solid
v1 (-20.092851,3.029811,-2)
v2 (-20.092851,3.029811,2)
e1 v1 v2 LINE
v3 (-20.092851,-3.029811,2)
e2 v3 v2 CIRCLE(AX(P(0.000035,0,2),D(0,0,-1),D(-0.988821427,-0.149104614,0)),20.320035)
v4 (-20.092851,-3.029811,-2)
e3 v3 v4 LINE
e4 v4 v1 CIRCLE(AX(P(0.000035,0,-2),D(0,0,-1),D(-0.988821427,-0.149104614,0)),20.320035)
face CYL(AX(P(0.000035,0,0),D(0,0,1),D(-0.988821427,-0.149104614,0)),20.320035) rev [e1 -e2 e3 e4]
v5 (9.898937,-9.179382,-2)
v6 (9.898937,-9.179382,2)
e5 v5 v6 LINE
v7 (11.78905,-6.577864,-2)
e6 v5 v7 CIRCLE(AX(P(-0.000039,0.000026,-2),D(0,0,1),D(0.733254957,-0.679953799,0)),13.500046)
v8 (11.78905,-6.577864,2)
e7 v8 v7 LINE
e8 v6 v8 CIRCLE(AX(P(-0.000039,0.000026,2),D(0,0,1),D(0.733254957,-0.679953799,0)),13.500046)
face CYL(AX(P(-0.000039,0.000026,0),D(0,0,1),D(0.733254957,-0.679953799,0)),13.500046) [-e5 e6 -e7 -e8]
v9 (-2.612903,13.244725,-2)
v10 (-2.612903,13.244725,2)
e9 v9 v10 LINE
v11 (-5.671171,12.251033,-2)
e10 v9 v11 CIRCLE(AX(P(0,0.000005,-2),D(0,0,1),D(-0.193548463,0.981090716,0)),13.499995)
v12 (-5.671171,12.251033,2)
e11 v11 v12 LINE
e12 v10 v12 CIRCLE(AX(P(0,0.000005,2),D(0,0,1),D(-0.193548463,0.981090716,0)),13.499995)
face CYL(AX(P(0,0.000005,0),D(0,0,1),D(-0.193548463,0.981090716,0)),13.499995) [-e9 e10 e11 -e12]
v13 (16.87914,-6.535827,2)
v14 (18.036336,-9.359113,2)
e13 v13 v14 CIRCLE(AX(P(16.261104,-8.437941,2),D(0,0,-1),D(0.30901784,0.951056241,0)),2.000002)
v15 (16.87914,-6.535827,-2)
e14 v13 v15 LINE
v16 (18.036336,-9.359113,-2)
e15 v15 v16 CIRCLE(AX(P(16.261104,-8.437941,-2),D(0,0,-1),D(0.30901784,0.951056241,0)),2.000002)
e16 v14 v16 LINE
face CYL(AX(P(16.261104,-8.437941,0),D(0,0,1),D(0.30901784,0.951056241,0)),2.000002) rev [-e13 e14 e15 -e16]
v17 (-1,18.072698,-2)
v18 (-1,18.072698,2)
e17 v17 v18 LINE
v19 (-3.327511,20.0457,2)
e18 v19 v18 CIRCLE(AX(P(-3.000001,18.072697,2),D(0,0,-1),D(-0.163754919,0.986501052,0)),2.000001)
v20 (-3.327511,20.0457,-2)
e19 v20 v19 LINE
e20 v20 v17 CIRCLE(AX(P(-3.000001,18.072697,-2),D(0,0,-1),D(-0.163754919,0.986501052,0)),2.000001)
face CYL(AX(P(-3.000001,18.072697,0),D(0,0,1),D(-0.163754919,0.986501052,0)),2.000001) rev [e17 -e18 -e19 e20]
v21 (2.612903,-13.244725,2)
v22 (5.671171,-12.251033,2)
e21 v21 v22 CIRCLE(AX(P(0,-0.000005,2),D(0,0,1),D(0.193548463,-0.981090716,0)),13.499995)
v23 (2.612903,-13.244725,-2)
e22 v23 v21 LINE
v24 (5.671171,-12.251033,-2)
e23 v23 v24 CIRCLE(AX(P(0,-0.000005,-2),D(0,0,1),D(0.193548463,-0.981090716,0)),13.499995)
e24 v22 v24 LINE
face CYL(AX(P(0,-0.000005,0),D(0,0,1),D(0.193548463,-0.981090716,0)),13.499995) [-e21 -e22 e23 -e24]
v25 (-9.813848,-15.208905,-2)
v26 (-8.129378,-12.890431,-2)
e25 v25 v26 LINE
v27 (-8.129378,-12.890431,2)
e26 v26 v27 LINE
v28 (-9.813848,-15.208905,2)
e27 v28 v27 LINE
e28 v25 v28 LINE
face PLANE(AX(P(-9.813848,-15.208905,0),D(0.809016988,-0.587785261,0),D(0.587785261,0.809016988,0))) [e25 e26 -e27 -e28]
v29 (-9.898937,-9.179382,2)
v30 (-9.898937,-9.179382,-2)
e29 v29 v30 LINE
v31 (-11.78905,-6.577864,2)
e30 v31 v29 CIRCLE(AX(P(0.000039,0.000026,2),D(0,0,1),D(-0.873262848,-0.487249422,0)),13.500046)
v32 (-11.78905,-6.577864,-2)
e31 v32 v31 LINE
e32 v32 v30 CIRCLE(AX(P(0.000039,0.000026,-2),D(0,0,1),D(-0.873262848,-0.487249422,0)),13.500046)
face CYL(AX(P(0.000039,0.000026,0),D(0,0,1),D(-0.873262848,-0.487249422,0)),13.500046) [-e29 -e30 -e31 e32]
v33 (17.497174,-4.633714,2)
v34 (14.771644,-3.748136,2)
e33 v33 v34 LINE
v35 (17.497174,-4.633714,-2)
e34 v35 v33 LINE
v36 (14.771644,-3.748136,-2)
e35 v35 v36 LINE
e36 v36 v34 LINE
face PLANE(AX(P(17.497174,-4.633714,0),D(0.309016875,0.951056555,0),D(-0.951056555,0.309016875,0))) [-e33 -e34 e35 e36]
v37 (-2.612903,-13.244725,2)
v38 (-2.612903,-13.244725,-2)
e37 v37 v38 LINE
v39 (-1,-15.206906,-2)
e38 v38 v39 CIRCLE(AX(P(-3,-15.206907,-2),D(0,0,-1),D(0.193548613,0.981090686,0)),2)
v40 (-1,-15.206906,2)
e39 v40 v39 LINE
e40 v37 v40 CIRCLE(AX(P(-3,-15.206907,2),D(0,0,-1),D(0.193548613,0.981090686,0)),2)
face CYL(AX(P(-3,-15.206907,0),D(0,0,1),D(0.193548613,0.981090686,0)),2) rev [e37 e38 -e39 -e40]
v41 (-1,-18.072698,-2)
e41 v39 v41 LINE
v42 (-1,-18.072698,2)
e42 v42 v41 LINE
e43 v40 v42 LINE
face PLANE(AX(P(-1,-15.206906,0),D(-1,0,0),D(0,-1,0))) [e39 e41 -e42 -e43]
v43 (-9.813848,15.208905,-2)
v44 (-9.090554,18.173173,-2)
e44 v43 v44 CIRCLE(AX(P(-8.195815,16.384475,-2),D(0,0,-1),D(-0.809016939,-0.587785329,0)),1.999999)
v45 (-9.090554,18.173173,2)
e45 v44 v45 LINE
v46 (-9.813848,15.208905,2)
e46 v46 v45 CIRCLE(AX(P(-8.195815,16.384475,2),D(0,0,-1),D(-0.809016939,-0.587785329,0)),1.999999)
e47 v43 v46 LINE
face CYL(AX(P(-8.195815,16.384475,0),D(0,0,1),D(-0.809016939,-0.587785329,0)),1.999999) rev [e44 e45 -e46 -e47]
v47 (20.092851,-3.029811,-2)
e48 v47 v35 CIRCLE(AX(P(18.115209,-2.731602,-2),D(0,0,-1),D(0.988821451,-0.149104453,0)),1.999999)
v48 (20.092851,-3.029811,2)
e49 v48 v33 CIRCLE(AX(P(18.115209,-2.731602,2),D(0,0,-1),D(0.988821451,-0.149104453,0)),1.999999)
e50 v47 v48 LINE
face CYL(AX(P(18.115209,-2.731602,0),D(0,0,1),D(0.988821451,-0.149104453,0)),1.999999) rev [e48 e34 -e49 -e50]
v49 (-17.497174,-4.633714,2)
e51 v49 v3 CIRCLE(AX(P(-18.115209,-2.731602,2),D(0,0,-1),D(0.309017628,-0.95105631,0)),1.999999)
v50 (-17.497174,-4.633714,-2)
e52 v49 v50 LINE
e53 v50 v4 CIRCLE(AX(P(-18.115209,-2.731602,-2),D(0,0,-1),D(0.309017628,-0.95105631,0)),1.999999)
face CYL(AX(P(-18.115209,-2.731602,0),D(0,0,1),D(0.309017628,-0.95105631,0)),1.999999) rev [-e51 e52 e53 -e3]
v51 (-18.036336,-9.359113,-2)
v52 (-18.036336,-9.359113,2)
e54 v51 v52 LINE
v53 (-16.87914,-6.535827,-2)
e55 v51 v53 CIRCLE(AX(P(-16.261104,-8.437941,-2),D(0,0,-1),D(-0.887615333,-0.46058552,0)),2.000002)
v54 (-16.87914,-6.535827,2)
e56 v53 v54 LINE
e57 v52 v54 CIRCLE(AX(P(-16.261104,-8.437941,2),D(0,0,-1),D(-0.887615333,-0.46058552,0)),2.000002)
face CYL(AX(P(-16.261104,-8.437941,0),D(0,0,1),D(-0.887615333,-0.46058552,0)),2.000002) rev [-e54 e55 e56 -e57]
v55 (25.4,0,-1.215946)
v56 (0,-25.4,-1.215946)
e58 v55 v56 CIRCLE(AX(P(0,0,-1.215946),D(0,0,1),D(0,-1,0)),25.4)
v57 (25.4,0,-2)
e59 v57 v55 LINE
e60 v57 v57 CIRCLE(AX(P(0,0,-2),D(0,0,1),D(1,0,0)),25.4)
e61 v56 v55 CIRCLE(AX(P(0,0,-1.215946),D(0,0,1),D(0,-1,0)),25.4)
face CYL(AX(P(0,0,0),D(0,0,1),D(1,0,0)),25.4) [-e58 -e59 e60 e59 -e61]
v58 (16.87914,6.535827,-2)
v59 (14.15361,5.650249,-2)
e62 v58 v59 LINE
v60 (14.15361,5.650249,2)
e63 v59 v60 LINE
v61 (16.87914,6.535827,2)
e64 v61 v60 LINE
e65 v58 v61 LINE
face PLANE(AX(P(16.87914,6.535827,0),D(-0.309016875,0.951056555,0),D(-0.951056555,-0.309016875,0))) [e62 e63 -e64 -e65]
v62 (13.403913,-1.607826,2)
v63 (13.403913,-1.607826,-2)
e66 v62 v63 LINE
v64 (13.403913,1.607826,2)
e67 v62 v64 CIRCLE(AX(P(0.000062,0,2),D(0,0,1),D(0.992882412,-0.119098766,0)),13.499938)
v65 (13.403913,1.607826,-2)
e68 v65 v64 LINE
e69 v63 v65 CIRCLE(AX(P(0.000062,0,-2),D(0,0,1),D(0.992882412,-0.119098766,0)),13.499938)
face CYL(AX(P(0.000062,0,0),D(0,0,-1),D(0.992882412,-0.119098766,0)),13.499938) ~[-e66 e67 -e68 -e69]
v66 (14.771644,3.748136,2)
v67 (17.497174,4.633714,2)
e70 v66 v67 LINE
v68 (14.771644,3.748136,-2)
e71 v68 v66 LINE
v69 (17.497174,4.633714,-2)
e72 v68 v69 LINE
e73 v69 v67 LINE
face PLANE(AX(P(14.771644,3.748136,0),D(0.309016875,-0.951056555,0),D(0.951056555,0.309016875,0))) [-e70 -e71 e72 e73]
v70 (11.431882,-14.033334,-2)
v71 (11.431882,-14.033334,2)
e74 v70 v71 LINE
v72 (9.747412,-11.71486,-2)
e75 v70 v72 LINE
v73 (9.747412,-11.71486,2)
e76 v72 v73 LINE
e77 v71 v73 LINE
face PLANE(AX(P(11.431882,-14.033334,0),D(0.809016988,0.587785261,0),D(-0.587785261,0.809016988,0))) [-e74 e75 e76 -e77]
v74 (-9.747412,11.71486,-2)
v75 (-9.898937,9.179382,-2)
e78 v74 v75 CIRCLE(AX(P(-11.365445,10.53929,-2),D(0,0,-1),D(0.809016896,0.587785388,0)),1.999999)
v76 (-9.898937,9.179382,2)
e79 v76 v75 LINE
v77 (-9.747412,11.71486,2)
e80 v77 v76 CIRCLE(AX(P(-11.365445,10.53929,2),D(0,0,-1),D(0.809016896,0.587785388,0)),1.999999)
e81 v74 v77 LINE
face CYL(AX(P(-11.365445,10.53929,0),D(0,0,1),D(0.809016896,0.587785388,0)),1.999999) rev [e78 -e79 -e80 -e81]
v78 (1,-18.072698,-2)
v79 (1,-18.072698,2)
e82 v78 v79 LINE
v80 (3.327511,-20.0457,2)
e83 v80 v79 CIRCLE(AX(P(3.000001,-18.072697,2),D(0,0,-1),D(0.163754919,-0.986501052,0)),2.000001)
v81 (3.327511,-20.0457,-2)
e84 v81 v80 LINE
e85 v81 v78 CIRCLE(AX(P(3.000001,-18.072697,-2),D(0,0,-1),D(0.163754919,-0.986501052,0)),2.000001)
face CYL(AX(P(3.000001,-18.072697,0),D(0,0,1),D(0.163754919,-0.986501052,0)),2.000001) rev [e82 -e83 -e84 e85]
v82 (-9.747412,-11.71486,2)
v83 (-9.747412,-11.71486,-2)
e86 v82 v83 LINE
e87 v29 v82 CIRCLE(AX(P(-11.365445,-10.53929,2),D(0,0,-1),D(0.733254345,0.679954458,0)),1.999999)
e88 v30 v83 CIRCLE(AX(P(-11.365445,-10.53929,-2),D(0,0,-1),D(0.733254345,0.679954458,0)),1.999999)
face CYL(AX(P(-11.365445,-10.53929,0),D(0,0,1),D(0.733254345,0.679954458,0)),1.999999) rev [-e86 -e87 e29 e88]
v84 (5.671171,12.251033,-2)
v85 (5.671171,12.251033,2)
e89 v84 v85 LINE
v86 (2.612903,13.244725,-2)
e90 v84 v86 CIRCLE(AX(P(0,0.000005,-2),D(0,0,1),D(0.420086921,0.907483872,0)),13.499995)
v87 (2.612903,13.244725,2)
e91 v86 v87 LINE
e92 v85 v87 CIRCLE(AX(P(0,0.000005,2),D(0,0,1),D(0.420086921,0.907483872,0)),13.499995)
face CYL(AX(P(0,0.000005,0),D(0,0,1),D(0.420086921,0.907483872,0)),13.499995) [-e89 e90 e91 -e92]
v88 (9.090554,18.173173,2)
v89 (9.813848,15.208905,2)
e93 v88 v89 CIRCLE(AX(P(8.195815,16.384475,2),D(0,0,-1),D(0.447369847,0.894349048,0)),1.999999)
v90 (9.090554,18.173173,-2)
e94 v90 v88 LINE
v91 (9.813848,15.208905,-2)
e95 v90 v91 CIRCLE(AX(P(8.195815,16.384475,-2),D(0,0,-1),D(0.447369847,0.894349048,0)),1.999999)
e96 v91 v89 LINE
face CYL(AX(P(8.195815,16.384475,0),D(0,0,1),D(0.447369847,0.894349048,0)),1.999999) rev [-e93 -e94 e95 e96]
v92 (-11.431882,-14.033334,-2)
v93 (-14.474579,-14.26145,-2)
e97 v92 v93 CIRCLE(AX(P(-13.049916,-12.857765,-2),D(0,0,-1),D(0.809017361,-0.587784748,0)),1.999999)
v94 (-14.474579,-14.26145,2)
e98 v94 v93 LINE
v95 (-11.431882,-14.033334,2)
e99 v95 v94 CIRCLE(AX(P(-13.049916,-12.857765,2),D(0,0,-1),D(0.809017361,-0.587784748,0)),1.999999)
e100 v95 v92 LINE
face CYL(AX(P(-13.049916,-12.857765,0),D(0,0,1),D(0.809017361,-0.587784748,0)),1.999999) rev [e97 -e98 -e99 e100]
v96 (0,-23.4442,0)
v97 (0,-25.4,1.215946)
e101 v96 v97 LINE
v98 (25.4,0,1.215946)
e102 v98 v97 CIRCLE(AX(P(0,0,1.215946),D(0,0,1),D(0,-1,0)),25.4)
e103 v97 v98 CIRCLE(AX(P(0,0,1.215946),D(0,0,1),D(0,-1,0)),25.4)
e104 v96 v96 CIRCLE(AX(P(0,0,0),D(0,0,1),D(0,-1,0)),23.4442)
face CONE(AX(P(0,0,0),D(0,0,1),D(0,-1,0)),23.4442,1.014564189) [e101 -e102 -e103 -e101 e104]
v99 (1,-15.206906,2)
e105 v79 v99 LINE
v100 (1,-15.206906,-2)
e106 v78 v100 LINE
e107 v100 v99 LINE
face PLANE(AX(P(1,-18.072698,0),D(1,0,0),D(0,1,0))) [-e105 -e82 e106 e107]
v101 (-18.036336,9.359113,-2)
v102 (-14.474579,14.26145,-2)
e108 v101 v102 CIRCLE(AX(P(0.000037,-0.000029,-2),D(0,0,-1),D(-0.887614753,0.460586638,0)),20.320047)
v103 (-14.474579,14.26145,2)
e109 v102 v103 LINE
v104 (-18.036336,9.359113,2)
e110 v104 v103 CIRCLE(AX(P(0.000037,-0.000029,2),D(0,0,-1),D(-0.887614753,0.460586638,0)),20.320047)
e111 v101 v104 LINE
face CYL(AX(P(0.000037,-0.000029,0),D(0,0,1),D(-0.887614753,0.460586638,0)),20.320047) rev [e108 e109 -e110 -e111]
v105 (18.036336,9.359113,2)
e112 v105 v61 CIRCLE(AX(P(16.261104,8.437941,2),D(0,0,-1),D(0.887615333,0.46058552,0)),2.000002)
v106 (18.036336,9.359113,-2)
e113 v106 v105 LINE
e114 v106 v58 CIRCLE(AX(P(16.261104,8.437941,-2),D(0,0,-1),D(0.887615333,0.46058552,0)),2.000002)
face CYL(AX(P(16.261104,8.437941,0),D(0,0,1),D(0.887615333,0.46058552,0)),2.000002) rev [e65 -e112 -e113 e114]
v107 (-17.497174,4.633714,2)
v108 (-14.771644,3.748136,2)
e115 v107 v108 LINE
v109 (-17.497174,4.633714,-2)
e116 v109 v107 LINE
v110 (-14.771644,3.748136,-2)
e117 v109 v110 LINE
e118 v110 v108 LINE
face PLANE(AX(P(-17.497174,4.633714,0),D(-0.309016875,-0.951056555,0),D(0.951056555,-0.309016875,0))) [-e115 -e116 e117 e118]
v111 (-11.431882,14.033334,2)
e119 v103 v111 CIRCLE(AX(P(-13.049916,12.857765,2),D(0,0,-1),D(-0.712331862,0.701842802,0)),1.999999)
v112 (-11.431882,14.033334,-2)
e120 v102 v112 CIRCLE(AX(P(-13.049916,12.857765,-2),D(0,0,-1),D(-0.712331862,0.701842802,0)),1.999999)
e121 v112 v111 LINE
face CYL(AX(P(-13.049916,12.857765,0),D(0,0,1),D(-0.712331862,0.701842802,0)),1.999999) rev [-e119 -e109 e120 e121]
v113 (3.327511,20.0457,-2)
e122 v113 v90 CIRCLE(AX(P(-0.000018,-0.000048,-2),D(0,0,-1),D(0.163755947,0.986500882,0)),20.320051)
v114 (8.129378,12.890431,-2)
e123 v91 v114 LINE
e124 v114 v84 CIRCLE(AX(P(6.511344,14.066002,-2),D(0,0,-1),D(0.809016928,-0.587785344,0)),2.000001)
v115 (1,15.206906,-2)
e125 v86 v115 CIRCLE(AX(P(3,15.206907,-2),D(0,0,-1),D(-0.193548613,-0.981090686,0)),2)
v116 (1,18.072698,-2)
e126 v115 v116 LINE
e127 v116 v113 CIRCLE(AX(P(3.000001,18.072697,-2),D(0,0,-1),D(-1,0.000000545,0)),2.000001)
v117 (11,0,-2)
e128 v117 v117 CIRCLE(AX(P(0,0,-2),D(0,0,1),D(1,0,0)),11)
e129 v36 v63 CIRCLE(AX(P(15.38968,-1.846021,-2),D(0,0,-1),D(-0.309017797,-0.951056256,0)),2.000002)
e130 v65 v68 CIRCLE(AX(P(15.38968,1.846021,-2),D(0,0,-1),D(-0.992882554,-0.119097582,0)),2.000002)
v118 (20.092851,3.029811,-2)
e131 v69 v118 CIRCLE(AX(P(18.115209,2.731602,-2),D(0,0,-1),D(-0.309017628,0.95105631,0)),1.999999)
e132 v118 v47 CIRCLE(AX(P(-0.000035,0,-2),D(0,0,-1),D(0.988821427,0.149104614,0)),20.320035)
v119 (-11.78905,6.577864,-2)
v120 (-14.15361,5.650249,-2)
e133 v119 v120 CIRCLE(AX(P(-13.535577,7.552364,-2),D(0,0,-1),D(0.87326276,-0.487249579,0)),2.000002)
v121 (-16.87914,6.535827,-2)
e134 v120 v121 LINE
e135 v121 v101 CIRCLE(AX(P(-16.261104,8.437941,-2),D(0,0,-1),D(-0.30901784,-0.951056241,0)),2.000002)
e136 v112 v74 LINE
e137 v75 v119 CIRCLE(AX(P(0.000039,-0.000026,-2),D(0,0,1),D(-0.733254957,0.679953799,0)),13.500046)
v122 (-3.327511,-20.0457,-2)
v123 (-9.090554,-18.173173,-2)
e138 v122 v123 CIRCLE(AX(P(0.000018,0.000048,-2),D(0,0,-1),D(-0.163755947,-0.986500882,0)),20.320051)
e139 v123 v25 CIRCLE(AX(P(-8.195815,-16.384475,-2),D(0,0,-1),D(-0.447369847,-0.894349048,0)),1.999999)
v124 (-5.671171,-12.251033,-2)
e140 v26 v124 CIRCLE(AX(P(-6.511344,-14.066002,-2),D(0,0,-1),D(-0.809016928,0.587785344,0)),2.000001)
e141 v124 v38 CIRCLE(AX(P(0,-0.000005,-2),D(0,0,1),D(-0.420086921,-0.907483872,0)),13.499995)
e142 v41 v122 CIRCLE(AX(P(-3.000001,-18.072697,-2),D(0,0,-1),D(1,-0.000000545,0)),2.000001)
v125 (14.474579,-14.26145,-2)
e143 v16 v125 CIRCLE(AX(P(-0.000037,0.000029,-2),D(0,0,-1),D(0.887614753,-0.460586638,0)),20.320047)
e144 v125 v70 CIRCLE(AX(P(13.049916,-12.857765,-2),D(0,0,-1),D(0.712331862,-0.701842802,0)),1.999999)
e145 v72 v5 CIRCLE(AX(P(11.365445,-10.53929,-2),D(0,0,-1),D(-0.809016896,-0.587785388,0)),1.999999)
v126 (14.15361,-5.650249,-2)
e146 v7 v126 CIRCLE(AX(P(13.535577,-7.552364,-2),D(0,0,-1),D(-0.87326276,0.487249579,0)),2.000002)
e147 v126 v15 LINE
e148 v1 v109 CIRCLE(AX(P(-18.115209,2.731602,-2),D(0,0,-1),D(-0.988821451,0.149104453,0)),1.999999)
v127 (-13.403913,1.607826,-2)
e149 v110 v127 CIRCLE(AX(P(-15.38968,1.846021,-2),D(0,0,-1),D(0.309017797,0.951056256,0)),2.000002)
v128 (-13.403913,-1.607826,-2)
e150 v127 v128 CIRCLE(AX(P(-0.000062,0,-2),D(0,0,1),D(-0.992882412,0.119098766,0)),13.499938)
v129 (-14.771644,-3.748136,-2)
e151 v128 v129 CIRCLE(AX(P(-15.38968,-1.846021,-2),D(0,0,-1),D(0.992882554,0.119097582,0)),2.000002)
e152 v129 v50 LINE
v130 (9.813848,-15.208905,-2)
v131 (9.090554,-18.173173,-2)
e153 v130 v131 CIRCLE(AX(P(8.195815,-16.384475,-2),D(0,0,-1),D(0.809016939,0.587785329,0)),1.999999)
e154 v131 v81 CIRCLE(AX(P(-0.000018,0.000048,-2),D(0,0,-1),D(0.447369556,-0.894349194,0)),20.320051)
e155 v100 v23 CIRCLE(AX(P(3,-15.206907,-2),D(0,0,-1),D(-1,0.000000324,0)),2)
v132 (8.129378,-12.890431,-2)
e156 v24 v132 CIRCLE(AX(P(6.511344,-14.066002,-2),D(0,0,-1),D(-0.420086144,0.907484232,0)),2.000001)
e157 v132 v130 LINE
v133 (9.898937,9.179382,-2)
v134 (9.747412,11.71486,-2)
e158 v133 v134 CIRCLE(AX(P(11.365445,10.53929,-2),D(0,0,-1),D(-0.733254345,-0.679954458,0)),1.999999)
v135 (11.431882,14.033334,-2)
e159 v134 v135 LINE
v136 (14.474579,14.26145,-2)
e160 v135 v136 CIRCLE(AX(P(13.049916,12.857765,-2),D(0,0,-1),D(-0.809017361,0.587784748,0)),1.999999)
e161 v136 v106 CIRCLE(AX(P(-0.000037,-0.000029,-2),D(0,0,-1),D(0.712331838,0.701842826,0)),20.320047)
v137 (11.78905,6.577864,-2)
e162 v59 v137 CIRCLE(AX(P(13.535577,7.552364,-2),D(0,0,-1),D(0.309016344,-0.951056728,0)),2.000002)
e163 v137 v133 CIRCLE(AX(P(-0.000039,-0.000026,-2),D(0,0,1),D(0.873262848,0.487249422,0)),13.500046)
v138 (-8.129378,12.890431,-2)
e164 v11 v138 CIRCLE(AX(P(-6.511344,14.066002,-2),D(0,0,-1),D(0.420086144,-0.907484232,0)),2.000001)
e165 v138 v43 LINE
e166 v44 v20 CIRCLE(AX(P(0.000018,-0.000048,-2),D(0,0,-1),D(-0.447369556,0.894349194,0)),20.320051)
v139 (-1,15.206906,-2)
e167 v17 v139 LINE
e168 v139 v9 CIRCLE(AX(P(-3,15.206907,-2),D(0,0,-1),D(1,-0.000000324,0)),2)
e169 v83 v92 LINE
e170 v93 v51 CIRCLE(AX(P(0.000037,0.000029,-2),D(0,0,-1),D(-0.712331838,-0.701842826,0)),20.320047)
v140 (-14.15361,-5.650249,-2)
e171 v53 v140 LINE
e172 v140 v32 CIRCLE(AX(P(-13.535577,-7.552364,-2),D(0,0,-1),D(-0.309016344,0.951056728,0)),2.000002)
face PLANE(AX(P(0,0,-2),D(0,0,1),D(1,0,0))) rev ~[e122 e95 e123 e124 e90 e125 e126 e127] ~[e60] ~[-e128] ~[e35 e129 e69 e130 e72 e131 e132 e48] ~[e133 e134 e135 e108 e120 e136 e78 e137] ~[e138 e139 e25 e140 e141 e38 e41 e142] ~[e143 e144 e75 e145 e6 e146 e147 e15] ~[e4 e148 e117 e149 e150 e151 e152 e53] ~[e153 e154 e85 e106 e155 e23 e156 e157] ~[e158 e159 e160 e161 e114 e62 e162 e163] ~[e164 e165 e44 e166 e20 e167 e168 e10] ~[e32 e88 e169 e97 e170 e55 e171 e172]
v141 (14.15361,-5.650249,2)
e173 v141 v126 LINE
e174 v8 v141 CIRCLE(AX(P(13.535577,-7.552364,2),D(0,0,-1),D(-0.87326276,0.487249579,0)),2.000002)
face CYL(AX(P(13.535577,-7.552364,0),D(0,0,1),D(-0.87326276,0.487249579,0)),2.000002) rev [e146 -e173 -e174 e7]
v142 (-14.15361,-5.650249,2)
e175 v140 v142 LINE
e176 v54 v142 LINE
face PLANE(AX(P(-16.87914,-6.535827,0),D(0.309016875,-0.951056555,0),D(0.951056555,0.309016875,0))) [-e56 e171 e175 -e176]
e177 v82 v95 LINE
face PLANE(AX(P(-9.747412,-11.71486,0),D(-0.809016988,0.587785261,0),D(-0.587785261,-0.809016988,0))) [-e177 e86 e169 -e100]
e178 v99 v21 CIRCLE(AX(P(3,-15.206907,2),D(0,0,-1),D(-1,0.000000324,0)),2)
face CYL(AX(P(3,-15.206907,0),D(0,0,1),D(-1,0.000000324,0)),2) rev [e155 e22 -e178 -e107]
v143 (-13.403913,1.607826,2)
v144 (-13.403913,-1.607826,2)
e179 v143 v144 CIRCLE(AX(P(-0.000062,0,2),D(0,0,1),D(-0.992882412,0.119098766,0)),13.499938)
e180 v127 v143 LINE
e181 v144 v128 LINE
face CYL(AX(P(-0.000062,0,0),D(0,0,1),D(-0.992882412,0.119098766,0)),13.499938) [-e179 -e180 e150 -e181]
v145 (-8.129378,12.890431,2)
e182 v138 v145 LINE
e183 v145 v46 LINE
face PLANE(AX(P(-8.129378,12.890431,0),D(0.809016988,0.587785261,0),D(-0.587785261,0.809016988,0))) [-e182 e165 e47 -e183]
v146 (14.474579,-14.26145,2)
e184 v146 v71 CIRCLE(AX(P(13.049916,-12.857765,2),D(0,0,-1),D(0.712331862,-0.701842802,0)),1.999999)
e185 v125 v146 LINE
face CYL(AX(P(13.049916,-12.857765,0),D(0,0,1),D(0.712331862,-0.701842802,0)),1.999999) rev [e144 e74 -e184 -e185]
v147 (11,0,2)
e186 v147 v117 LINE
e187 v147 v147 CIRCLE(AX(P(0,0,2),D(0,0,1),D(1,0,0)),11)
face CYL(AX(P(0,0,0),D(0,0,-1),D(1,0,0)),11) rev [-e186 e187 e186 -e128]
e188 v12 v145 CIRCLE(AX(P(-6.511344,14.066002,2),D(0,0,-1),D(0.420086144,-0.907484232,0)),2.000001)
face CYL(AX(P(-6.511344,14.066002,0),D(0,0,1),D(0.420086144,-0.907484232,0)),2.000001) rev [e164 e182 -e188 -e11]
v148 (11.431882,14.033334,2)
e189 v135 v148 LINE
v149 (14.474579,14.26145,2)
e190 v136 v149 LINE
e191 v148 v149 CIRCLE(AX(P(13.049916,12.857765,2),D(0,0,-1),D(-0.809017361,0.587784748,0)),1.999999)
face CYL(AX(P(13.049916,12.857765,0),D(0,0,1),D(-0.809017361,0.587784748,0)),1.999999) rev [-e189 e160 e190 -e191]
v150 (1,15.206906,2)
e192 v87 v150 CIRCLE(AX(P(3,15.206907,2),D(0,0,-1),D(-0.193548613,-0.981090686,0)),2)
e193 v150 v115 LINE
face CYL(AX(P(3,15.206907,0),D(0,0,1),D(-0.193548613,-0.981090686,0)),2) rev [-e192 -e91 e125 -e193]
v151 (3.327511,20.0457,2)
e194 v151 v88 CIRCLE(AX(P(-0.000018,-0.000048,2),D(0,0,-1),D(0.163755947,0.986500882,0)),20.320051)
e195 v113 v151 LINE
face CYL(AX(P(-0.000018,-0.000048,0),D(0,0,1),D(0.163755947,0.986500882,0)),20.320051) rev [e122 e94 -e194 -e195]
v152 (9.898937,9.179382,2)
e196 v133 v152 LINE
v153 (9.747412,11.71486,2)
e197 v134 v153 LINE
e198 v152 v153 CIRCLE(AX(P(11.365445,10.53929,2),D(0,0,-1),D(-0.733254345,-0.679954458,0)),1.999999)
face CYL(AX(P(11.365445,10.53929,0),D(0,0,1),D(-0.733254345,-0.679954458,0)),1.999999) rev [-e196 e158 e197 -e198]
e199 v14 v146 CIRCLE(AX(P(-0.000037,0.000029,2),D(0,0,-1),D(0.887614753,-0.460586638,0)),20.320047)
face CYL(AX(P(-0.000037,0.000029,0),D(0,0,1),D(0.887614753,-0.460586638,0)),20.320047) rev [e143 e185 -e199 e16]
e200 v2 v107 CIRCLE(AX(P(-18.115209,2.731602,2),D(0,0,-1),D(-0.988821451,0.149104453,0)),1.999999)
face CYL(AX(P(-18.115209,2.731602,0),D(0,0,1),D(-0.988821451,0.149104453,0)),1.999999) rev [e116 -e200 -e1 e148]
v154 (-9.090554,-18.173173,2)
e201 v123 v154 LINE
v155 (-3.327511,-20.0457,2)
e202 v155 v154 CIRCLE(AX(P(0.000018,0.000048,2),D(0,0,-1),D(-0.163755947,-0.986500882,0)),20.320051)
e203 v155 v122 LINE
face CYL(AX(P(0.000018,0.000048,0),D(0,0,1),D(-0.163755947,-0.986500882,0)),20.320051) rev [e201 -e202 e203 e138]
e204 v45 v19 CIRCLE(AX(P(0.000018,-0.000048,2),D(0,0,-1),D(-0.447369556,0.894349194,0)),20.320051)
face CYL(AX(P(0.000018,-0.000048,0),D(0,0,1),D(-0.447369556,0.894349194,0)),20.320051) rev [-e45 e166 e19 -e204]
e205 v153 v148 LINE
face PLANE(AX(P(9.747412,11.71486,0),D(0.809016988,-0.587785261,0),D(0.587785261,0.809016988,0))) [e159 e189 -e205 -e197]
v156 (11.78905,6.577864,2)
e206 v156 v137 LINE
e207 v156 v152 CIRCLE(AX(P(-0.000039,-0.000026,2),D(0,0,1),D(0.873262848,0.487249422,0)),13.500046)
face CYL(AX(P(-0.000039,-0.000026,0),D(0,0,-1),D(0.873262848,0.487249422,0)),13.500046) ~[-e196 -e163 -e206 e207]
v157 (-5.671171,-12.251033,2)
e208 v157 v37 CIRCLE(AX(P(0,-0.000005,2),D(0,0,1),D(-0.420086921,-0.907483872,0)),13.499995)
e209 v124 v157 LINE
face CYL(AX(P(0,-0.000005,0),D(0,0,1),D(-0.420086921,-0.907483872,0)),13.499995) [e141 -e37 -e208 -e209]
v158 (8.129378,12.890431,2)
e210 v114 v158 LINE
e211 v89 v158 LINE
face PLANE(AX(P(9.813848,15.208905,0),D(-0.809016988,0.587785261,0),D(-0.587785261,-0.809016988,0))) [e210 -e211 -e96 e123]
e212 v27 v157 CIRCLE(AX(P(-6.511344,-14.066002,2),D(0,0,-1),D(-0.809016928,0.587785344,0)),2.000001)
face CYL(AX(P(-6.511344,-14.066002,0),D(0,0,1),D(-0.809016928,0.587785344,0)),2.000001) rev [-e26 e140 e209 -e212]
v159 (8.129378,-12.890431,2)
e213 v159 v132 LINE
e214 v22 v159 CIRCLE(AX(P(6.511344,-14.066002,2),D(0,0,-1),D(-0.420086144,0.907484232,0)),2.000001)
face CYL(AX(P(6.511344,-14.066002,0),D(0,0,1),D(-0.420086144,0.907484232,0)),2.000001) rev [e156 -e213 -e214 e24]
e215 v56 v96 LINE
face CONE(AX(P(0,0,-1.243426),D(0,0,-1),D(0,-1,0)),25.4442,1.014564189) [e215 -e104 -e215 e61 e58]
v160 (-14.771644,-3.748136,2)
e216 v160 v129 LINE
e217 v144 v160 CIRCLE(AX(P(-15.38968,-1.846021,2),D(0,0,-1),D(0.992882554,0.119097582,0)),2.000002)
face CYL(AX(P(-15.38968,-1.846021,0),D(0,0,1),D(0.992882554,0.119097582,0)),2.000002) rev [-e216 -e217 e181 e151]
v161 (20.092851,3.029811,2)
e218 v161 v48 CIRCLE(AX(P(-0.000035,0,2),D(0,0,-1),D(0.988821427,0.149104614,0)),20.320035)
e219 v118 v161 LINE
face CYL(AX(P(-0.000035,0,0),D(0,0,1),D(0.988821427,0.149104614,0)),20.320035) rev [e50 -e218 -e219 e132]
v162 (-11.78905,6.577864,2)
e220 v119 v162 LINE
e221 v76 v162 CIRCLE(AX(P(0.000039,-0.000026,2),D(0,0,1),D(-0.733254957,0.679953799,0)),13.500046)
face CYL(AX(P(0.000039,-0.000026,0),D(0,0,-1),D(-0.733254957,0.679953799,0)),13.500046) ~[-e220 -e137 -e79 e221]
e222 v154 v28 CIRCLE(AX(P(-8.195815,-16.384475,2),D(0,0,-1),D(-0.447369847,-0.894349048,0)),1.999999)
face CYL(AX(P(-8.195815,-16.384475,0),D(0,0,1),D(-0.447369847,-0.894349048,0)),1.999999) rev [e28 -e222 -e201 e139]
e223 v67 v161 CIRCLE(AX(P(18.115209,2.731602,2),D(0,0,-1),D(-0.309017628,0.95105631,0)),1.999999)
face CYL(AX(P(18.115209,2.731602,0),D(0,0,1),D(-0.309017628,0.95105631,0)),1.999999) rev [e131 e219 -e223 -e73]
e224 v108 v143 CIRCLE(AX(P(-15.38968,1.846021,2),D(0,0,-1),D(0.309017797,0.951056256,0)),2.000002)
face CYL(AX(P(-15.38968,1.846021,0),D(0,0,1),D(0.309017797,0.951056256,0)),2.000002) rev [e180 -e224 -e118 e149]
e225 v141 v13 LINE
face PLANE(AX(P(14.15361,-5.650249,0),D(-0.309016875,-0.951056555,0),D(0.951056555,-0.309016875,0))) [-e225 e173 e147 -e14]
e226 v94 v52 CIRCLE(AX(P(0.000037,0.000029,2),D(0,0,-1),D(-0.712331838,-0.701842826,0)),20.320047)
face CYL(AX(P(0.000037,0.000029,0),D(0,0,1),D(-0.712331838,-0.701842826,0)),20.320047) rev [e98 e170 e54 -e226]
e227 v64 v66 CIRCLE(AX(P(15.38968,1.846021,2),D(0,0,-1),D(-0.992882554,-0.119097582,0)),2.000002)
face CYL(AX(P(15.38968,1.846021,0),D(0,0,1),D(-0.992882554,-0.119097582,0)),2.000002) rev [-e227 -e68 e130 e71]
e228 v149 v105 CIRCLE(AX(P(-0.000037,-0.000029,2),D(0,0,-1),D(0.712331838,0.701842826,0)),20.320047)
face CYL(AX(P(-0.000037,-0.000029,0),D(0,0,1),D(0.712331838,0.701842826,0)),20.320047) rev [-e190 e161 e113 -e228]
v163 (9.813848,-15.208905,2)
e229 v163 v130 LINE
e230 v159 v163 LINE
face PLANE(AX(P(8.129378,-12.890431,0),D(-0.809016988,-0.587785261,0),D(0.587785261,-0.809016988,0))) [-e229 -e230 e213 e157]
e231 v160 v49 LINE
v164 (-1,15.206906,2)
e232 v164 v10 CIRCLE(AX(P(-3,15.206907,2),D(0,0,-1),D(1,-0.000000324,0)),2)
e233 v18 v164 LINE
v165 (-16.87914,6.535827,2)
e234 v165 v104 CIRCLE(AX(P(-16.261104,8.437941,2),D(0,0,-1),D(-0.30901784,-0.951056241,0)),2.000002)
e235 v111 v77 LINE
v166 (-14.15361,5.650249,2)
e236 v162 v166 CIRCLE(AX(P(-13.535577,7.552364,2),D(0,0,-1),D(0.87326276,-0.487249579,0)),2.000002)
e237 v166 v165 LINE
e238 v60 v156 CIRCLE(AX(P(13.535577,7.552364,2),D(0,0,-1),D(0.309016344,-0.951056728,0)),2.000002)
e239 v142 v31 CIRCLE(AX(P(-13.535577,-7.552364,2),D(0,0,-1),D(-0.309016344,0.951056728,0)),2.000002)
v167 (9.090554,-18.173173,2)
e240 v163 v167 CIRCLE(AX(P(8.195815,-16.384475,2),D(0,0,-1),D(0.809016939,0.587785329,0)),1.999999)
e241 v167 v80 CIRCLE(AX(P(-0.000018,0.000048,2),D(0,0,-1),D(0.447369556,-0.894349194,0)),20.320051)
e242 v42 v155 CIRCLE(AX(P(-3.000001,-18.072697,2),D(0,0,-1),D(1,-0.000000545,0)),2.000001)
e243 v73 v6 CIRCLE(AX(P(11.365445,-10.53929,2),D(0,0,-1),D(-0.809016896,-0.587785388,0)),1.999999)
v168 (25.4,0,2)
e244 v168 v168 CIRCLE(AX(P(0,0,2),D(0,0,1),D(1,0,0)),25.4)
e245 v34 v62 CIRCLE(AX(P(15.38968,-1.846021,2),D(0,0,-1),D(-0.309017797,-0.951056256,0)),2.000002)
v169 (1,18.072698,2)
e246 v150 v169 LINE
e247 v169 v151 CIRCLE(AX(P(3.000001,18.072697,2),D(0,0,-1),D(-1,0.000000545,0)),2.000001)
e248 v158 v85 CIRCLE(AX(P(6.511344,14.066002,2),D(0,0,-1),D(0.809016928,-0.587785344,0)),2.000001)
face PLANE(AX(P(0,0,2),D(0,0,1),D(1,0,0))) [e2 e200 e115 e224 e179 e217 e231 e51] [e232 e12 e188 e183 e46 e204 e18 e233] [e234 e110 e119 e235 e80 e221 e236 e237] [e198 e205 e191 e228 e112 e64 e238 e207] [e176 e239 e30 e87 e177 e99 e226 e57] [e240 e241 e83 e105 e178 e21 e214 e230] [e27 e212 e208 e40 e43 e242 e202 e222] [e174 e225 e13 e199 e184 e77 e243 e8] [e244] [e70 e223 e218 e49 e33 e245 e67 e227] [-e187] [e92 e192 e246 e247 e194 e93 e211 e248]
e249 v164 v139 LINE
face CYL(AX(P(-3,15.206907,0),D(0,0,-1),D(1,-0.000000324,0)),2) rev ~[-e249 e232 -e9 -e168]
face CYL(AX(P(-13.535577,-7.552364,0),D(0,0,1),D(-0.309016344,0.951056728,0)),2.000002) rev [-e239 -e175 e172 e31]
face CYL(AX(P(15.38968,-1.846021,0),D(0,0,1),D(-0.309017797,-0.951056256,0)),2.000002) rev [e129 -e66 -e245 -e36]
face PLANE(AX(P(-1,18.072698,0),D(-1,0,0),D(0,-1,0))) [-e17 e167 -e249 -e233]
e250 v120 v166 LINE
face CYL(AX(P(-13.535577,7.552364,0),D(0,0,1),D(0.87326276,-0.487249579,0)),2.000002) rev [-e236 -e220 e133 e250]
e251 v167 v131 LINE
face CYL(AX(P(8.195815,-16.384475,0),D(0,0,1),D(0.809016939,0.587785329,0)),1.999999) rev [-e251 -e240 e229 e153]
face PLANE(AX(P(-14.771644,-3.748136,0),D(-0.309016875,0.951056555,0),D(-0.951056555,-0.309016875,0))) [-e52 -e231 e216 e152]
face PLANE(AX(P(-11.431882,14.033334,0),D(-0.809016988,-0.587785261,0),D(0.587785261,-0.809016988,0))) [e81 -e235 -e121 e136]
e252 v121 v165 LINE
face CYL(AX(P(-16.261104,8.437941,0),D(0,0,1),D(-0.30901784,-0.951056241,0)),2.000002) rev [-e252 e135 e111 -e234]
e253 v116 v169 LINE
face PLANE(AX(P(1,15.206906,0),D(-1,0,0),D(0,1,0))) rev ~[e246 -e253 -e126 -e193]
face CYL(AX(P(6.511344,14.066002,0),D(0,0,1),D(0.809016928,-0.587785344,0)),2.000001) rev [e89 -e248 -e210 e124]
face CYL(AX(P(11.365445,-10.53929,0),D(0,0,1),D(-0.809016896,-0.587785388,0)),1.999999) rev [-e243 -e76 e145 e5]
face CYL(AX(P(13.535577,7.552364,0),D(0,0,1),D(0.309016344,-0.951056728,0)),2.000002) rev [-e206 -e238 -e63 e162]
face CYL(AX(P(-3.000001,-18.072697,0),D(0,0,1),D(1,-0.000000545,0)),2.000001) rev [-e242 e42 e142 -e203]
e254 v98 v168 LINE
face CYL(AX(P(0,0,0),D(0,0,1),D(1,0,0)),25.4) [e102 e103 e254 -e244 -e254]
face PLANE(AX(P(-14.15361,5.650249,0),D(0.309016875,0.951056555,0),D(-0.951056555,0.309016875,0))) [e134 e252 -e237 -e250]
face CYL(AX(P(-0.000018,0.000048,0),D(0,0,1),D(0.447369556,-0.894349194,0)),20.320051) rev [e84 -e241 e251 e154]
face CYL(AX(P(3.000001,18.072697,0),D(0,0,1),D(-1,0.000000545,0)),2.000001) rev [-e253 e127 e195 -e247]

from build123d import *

# Parameters (mm, degrees)
F0_R     = 25.4
F0_R_2   = 11
F1_DEPTH = 2


with BuildPart() as f1:
    # F0 (on Top) → F1 (new body, symmetric)
    with BuildSketch(Plane.XY):
        Circle(F0_R)
        with BuildLine():
            ThreePointArc((-9.090554, -18.173173), (-10.138809, -16.858575), (-9.813848, -15.208905))
            Line((-9.813848, -15.208905), (-8.129378, -12.890431))
            ThreePointArc((-8.129378, -12.890431), (-7.014806, -12.130407), (-5.671171, -12.251033))
            ThreePointArc((-5.671171, -12.251033), (-4.171729, -12.839263), (-2.612903, -13.244725))
            ThreePointArc((-2.612903, -13.244725), (-1.454977, -13.936905), (-1, -15.206906))
            Line((-1, -15.206906), (-1, -18.072698))
            ThreePointArc((-1, -18.072698), (-1.706753, -19.598316), (-3.327511, -20.0457))
            ThreePointArc((-3.327511, -20.0457), (-6.279225, -19.325468), (-9.090554, -18.173173))
        make_face(mode=Mode.SUBTRACT)
        with BuildLine():
            ThreePointArc((-18.036336, -9.359113), (-18.11169, -7.679431), (-16.87914, -6.535827))
            Line((-16.87914, -6.535827), (-14.15361, -5.650249))
            ThreePointArc((-14.15361, -5.650249), (-12.805172, -5.690506), (-11.78905, -6.577864))
            ThreePointArc((-11.78905, -6.577864), (-10.921729, -7.935101), (-9.898937, -9.179382))
            ThreePointArc((-9.898937, -9.179382), (-9.369008, -10.419979), (-9.747412, -11.71486))
            Line((-9.747412, -11.71486), (-11.431882, -14.033334))
            ThreePointArc((-11.431882, -14.033334), (-12.900393, -14.852167), (-14.474579, -14.26145))
            ThreePointArc((-14.474579, -14.26145), (-16.439225, -11.943796), (-18.036336, -9.359113))
        make_face(mode=Mode.SUBTRACT)
        with BuildLine():
            ThreePointArc((-20.092851, 3.029811), (-19.166522, 4.432995), (-17.497174, 4.633714))
            Line((-17.497174, 4.633714), (-14.771644, 3.748136))
            ThreePointArc((-14.771644, 3.748136), (-13.704397, 2.922975), (-13.403913, 1.607826))
            ThreePointArc((-13.403913, 1.607826), (-13.5, 0), (-13.403913, -1.607826))
            ThreePointArc((-13.403913, -1.607826), (-13.704397, -2.922975), (-14.771644, -3.748136))
            Line((-14.771644, -3.748136), (-17.497174, -4.633714))
            ThreePointArc((-17.497174, -4.633714), (-19.166522, -4.432995), (-20.092851, -3.029811))
            ThreePointArc((-20.092851, -3.029811), (-20.32, 0), (-20.092851, 3.029811))
        make_face(mode=Mode.SUBTRACT)
        Circle(F0_R_2, mode=Mode.SUBTRACT)
        with BuildLine():
            ThreePointArc((3.327511, -20.0457), (1.706753, -19.598316), (1, -18.072698))
            Line((1, -18.072698), (1, -15.206906))
            ThreePointArc((1, -15.206906), (1.454977, -13.936905), (2.612903, -13.244725))
            ThreePointArc((2.612903, -13.244725), (4.171729, -12.839263), (5.671171, -12.251033))
            ThreePointArc((5.671171, -12.251033), (7.014806, -12.130407), (8.129378, -12.890431))
            Line((8.129378, -12.890431), (9.813848, -15.208905))
            ThreePointArc((9.813848, -15.208905), (10.138809, -16.858575), (9.090554, -18.173173))
            ThreePointArc((9.090554, -18.173173), (6.279225, -19.325468), (3.327511, -20.0457))
        make_face(mode=Mode.SUBTRACT)
        with BuildLine():
            ThreePointArc((14.474579, -14.26145), (12.900393, -14.852167), (11.431882, -14.033334))
            Line((11.431882, -14.033334), (9.747412, -11.71486))
            ThreePointArc((9.747412, -11.71486), (9.369008, -10.419979), (9.898937, -9.179382))
            ThreePointArc((9.898937, -9.179382), (10.921729, -7.935101), (11.78905, -6.577864))
            ThreePointArc((11.78905, -6.577864), (12.805172, -5.690506), (14.15361, -5.650249))
            Line((14.15361, -5.650249), (16.87914, -6.535827))
            ThreePointArc((16.87914, -6.535827), (18.11169, -7.679431), (18.036336, -9.359113))
            ThreePointArc((18.036336, -9.359113), (16.439225, -11.943796), (14.474579, -14.26145))
        make_face(mode=Mode.SUBTRACT)
        with BuildLine():
            ThreePointArc((20.092851, -3.029811), (19.166522, -4.432995), (17.497174, -4.633714))
            Line((17.497174, -4.633714), (14.771644, -3.748136))
            ThreePointArc((14.771644, -3.748136), (13.704397, -2.922975), (13.403913, -1.607826))
            ThreePointArc((13.403913, -1.607826), (13.5, 0), (13.403913, 1.607826))
            ThreePointArc((13.403913, 1.607826), (13.704397, 2.922975), (14.771644, 3.748136))
            Line((14.771644, 3.748136), (17.497174, 4.633714))
            ThreePointArc((17.497174, 4.633714), (19.166522, 4.432995), (20.092851, 3.029811))
            ThreePointArc((20.092851, 3.029811), (20.32, 0), (20.092851, -3.029811))
        make_face(mode=Mode.SUBTRACT)
        with BuildLine():
            ThreePointArc((-14.474579, 14.26145), (-12.900393, 14.852167), (-11.431882, 14.033334))
            Line((-11.431882, 14.033334), (-9.747412, 11.71486))
            ThreePointArc((-9.747412, 11.71486), (-9.369008, 10.419979), (-9.898937, 9.179382))
            ThreePointArc((-9.898937, 9.179382), (-10.921729, 7.935101), (-11.78905, 6.577864))
            ThreePointArc((-11.78905, 6.577864), (-12.805172, 5.690506), (-14.15361, 5.650249))
            Line((-14.15361, 5.650249), (-16.87914, 6.535827))
            ThreePointArc((-16.87914, 6.535827), (-18.11169, 7.679431), (-18.036336, 9.359113))
            ThreePointArc((-18.036336, 9.359113), (-16.439225, 11.943796), (-14.474579, 14.26145))
        make_face(mode=Mode.SUBTRACT)
        with BuildLine():
            ThreePointArc((-9.090554, 18.173173), (-6.279225, 19.325468), (-3.327511, 20.0457))
            ThreePointArc((-3.327511, 20.0457), (-1.706753, 19.598316), (-1, 18.072698))
            Line((-1, 18.072698), (-1, 15.206906))
            ThreePointArc((-1, 15.206906), (-1.454977, 13.936905), (-2.612903, 13.244725))
            ThreePointArc((-2.612903, 13.244725), (-4.171729, 12.839263), (-5.671171, 12.251033))
            ThreePointArc((-5.671171, 12.251033), (-7.014806, 12.130407), (-8.129378, 12.890431))
            Line((-8.129378, 12.890431), (-9.813848, 15.208905))
            ThreePointArc((-9.813848, 15.208905), (-10.138809, 16.858575), (-9.090554, 18.173173))
        make_face(mode=Mode.SUBTRACT)
        with BuildLine():
            ThreePointArc((18.036336, 9.359113), (18.11169, 7.679431), (16.87914, 6.535827))
            Line((16.87914, 6.535827), (14.15361, 5.650249))
            ThreePointArc((14.15361, 5.650249), (12.805172, 5.690506), (11.78905, 6.577864))
            ThreePointArc((11.78905, 6.577864), (10.921729, 7.935101), (9.898937, 9.179382))
            ThreePointArc((9.898937, 9.179382), (9.369008, 10.419979), (9.747412, 11.71486))
            Line((9.747412, 11.71486), (11.431882, 14.033334))
            ThreePointArc((11.431882, 14.033334), (12.900393, 14.852167), (14.474579, 14.26145))
            ThreePointArc((14.474579, 14.26145), (16.439225, 11.943796), (18.036336, 9.359113))
        make_face(mode=Mode.SUBTRACT)
        with BuildLine():
            Line((1, 15.206906), (1, 18.072698))
            ThreePointArc((1, 18.072698), (1.706753, 19.598316), (3.327511, 20.0457))
            ThreePointArc((3.327511, 20.0457), (6.279225, 19.325468), (9.090554, 18.173173))
            ThreePointArc((9.090554, 18.173173), (10.138809, 16.858575), (9.813848, 15.208905))
            Line((9.813848, 15.208905), (8.129378, 12.890431))
            ThreePointArc((8.129378, 12.890431), (7.014806, 12.130407), (5.671171, 12.251033))
            ThreePointArc((5.671171, 12.251033), (4.171729, 12.839263), (2.612903, 13.244725))
            ThreePointArc((2.612903, 13.244725), (1.454977, 13.936905), (1, 15.206906))
        make_face(mode=Mode.SUBTRACT)
    extrude(amount=F1_DEPTH, both=True)

    # F2 (on Right) → F3 (revolve, cut)
    with BuildSketch(Plane.YZ):
        Polygon((-25.4442, 1.243426), (-25.4442, 0), (-23.4442, 0), align=None)
        Polygon((-23.4442, 0), (-25.4442, 0), (-25.4442, -1.243426), align=None)
    revolve(axis=Axis((0, 0, -6.003845), (0, 0, 1)), mode=Mode.SUBTRACT)


solid = f1.part
